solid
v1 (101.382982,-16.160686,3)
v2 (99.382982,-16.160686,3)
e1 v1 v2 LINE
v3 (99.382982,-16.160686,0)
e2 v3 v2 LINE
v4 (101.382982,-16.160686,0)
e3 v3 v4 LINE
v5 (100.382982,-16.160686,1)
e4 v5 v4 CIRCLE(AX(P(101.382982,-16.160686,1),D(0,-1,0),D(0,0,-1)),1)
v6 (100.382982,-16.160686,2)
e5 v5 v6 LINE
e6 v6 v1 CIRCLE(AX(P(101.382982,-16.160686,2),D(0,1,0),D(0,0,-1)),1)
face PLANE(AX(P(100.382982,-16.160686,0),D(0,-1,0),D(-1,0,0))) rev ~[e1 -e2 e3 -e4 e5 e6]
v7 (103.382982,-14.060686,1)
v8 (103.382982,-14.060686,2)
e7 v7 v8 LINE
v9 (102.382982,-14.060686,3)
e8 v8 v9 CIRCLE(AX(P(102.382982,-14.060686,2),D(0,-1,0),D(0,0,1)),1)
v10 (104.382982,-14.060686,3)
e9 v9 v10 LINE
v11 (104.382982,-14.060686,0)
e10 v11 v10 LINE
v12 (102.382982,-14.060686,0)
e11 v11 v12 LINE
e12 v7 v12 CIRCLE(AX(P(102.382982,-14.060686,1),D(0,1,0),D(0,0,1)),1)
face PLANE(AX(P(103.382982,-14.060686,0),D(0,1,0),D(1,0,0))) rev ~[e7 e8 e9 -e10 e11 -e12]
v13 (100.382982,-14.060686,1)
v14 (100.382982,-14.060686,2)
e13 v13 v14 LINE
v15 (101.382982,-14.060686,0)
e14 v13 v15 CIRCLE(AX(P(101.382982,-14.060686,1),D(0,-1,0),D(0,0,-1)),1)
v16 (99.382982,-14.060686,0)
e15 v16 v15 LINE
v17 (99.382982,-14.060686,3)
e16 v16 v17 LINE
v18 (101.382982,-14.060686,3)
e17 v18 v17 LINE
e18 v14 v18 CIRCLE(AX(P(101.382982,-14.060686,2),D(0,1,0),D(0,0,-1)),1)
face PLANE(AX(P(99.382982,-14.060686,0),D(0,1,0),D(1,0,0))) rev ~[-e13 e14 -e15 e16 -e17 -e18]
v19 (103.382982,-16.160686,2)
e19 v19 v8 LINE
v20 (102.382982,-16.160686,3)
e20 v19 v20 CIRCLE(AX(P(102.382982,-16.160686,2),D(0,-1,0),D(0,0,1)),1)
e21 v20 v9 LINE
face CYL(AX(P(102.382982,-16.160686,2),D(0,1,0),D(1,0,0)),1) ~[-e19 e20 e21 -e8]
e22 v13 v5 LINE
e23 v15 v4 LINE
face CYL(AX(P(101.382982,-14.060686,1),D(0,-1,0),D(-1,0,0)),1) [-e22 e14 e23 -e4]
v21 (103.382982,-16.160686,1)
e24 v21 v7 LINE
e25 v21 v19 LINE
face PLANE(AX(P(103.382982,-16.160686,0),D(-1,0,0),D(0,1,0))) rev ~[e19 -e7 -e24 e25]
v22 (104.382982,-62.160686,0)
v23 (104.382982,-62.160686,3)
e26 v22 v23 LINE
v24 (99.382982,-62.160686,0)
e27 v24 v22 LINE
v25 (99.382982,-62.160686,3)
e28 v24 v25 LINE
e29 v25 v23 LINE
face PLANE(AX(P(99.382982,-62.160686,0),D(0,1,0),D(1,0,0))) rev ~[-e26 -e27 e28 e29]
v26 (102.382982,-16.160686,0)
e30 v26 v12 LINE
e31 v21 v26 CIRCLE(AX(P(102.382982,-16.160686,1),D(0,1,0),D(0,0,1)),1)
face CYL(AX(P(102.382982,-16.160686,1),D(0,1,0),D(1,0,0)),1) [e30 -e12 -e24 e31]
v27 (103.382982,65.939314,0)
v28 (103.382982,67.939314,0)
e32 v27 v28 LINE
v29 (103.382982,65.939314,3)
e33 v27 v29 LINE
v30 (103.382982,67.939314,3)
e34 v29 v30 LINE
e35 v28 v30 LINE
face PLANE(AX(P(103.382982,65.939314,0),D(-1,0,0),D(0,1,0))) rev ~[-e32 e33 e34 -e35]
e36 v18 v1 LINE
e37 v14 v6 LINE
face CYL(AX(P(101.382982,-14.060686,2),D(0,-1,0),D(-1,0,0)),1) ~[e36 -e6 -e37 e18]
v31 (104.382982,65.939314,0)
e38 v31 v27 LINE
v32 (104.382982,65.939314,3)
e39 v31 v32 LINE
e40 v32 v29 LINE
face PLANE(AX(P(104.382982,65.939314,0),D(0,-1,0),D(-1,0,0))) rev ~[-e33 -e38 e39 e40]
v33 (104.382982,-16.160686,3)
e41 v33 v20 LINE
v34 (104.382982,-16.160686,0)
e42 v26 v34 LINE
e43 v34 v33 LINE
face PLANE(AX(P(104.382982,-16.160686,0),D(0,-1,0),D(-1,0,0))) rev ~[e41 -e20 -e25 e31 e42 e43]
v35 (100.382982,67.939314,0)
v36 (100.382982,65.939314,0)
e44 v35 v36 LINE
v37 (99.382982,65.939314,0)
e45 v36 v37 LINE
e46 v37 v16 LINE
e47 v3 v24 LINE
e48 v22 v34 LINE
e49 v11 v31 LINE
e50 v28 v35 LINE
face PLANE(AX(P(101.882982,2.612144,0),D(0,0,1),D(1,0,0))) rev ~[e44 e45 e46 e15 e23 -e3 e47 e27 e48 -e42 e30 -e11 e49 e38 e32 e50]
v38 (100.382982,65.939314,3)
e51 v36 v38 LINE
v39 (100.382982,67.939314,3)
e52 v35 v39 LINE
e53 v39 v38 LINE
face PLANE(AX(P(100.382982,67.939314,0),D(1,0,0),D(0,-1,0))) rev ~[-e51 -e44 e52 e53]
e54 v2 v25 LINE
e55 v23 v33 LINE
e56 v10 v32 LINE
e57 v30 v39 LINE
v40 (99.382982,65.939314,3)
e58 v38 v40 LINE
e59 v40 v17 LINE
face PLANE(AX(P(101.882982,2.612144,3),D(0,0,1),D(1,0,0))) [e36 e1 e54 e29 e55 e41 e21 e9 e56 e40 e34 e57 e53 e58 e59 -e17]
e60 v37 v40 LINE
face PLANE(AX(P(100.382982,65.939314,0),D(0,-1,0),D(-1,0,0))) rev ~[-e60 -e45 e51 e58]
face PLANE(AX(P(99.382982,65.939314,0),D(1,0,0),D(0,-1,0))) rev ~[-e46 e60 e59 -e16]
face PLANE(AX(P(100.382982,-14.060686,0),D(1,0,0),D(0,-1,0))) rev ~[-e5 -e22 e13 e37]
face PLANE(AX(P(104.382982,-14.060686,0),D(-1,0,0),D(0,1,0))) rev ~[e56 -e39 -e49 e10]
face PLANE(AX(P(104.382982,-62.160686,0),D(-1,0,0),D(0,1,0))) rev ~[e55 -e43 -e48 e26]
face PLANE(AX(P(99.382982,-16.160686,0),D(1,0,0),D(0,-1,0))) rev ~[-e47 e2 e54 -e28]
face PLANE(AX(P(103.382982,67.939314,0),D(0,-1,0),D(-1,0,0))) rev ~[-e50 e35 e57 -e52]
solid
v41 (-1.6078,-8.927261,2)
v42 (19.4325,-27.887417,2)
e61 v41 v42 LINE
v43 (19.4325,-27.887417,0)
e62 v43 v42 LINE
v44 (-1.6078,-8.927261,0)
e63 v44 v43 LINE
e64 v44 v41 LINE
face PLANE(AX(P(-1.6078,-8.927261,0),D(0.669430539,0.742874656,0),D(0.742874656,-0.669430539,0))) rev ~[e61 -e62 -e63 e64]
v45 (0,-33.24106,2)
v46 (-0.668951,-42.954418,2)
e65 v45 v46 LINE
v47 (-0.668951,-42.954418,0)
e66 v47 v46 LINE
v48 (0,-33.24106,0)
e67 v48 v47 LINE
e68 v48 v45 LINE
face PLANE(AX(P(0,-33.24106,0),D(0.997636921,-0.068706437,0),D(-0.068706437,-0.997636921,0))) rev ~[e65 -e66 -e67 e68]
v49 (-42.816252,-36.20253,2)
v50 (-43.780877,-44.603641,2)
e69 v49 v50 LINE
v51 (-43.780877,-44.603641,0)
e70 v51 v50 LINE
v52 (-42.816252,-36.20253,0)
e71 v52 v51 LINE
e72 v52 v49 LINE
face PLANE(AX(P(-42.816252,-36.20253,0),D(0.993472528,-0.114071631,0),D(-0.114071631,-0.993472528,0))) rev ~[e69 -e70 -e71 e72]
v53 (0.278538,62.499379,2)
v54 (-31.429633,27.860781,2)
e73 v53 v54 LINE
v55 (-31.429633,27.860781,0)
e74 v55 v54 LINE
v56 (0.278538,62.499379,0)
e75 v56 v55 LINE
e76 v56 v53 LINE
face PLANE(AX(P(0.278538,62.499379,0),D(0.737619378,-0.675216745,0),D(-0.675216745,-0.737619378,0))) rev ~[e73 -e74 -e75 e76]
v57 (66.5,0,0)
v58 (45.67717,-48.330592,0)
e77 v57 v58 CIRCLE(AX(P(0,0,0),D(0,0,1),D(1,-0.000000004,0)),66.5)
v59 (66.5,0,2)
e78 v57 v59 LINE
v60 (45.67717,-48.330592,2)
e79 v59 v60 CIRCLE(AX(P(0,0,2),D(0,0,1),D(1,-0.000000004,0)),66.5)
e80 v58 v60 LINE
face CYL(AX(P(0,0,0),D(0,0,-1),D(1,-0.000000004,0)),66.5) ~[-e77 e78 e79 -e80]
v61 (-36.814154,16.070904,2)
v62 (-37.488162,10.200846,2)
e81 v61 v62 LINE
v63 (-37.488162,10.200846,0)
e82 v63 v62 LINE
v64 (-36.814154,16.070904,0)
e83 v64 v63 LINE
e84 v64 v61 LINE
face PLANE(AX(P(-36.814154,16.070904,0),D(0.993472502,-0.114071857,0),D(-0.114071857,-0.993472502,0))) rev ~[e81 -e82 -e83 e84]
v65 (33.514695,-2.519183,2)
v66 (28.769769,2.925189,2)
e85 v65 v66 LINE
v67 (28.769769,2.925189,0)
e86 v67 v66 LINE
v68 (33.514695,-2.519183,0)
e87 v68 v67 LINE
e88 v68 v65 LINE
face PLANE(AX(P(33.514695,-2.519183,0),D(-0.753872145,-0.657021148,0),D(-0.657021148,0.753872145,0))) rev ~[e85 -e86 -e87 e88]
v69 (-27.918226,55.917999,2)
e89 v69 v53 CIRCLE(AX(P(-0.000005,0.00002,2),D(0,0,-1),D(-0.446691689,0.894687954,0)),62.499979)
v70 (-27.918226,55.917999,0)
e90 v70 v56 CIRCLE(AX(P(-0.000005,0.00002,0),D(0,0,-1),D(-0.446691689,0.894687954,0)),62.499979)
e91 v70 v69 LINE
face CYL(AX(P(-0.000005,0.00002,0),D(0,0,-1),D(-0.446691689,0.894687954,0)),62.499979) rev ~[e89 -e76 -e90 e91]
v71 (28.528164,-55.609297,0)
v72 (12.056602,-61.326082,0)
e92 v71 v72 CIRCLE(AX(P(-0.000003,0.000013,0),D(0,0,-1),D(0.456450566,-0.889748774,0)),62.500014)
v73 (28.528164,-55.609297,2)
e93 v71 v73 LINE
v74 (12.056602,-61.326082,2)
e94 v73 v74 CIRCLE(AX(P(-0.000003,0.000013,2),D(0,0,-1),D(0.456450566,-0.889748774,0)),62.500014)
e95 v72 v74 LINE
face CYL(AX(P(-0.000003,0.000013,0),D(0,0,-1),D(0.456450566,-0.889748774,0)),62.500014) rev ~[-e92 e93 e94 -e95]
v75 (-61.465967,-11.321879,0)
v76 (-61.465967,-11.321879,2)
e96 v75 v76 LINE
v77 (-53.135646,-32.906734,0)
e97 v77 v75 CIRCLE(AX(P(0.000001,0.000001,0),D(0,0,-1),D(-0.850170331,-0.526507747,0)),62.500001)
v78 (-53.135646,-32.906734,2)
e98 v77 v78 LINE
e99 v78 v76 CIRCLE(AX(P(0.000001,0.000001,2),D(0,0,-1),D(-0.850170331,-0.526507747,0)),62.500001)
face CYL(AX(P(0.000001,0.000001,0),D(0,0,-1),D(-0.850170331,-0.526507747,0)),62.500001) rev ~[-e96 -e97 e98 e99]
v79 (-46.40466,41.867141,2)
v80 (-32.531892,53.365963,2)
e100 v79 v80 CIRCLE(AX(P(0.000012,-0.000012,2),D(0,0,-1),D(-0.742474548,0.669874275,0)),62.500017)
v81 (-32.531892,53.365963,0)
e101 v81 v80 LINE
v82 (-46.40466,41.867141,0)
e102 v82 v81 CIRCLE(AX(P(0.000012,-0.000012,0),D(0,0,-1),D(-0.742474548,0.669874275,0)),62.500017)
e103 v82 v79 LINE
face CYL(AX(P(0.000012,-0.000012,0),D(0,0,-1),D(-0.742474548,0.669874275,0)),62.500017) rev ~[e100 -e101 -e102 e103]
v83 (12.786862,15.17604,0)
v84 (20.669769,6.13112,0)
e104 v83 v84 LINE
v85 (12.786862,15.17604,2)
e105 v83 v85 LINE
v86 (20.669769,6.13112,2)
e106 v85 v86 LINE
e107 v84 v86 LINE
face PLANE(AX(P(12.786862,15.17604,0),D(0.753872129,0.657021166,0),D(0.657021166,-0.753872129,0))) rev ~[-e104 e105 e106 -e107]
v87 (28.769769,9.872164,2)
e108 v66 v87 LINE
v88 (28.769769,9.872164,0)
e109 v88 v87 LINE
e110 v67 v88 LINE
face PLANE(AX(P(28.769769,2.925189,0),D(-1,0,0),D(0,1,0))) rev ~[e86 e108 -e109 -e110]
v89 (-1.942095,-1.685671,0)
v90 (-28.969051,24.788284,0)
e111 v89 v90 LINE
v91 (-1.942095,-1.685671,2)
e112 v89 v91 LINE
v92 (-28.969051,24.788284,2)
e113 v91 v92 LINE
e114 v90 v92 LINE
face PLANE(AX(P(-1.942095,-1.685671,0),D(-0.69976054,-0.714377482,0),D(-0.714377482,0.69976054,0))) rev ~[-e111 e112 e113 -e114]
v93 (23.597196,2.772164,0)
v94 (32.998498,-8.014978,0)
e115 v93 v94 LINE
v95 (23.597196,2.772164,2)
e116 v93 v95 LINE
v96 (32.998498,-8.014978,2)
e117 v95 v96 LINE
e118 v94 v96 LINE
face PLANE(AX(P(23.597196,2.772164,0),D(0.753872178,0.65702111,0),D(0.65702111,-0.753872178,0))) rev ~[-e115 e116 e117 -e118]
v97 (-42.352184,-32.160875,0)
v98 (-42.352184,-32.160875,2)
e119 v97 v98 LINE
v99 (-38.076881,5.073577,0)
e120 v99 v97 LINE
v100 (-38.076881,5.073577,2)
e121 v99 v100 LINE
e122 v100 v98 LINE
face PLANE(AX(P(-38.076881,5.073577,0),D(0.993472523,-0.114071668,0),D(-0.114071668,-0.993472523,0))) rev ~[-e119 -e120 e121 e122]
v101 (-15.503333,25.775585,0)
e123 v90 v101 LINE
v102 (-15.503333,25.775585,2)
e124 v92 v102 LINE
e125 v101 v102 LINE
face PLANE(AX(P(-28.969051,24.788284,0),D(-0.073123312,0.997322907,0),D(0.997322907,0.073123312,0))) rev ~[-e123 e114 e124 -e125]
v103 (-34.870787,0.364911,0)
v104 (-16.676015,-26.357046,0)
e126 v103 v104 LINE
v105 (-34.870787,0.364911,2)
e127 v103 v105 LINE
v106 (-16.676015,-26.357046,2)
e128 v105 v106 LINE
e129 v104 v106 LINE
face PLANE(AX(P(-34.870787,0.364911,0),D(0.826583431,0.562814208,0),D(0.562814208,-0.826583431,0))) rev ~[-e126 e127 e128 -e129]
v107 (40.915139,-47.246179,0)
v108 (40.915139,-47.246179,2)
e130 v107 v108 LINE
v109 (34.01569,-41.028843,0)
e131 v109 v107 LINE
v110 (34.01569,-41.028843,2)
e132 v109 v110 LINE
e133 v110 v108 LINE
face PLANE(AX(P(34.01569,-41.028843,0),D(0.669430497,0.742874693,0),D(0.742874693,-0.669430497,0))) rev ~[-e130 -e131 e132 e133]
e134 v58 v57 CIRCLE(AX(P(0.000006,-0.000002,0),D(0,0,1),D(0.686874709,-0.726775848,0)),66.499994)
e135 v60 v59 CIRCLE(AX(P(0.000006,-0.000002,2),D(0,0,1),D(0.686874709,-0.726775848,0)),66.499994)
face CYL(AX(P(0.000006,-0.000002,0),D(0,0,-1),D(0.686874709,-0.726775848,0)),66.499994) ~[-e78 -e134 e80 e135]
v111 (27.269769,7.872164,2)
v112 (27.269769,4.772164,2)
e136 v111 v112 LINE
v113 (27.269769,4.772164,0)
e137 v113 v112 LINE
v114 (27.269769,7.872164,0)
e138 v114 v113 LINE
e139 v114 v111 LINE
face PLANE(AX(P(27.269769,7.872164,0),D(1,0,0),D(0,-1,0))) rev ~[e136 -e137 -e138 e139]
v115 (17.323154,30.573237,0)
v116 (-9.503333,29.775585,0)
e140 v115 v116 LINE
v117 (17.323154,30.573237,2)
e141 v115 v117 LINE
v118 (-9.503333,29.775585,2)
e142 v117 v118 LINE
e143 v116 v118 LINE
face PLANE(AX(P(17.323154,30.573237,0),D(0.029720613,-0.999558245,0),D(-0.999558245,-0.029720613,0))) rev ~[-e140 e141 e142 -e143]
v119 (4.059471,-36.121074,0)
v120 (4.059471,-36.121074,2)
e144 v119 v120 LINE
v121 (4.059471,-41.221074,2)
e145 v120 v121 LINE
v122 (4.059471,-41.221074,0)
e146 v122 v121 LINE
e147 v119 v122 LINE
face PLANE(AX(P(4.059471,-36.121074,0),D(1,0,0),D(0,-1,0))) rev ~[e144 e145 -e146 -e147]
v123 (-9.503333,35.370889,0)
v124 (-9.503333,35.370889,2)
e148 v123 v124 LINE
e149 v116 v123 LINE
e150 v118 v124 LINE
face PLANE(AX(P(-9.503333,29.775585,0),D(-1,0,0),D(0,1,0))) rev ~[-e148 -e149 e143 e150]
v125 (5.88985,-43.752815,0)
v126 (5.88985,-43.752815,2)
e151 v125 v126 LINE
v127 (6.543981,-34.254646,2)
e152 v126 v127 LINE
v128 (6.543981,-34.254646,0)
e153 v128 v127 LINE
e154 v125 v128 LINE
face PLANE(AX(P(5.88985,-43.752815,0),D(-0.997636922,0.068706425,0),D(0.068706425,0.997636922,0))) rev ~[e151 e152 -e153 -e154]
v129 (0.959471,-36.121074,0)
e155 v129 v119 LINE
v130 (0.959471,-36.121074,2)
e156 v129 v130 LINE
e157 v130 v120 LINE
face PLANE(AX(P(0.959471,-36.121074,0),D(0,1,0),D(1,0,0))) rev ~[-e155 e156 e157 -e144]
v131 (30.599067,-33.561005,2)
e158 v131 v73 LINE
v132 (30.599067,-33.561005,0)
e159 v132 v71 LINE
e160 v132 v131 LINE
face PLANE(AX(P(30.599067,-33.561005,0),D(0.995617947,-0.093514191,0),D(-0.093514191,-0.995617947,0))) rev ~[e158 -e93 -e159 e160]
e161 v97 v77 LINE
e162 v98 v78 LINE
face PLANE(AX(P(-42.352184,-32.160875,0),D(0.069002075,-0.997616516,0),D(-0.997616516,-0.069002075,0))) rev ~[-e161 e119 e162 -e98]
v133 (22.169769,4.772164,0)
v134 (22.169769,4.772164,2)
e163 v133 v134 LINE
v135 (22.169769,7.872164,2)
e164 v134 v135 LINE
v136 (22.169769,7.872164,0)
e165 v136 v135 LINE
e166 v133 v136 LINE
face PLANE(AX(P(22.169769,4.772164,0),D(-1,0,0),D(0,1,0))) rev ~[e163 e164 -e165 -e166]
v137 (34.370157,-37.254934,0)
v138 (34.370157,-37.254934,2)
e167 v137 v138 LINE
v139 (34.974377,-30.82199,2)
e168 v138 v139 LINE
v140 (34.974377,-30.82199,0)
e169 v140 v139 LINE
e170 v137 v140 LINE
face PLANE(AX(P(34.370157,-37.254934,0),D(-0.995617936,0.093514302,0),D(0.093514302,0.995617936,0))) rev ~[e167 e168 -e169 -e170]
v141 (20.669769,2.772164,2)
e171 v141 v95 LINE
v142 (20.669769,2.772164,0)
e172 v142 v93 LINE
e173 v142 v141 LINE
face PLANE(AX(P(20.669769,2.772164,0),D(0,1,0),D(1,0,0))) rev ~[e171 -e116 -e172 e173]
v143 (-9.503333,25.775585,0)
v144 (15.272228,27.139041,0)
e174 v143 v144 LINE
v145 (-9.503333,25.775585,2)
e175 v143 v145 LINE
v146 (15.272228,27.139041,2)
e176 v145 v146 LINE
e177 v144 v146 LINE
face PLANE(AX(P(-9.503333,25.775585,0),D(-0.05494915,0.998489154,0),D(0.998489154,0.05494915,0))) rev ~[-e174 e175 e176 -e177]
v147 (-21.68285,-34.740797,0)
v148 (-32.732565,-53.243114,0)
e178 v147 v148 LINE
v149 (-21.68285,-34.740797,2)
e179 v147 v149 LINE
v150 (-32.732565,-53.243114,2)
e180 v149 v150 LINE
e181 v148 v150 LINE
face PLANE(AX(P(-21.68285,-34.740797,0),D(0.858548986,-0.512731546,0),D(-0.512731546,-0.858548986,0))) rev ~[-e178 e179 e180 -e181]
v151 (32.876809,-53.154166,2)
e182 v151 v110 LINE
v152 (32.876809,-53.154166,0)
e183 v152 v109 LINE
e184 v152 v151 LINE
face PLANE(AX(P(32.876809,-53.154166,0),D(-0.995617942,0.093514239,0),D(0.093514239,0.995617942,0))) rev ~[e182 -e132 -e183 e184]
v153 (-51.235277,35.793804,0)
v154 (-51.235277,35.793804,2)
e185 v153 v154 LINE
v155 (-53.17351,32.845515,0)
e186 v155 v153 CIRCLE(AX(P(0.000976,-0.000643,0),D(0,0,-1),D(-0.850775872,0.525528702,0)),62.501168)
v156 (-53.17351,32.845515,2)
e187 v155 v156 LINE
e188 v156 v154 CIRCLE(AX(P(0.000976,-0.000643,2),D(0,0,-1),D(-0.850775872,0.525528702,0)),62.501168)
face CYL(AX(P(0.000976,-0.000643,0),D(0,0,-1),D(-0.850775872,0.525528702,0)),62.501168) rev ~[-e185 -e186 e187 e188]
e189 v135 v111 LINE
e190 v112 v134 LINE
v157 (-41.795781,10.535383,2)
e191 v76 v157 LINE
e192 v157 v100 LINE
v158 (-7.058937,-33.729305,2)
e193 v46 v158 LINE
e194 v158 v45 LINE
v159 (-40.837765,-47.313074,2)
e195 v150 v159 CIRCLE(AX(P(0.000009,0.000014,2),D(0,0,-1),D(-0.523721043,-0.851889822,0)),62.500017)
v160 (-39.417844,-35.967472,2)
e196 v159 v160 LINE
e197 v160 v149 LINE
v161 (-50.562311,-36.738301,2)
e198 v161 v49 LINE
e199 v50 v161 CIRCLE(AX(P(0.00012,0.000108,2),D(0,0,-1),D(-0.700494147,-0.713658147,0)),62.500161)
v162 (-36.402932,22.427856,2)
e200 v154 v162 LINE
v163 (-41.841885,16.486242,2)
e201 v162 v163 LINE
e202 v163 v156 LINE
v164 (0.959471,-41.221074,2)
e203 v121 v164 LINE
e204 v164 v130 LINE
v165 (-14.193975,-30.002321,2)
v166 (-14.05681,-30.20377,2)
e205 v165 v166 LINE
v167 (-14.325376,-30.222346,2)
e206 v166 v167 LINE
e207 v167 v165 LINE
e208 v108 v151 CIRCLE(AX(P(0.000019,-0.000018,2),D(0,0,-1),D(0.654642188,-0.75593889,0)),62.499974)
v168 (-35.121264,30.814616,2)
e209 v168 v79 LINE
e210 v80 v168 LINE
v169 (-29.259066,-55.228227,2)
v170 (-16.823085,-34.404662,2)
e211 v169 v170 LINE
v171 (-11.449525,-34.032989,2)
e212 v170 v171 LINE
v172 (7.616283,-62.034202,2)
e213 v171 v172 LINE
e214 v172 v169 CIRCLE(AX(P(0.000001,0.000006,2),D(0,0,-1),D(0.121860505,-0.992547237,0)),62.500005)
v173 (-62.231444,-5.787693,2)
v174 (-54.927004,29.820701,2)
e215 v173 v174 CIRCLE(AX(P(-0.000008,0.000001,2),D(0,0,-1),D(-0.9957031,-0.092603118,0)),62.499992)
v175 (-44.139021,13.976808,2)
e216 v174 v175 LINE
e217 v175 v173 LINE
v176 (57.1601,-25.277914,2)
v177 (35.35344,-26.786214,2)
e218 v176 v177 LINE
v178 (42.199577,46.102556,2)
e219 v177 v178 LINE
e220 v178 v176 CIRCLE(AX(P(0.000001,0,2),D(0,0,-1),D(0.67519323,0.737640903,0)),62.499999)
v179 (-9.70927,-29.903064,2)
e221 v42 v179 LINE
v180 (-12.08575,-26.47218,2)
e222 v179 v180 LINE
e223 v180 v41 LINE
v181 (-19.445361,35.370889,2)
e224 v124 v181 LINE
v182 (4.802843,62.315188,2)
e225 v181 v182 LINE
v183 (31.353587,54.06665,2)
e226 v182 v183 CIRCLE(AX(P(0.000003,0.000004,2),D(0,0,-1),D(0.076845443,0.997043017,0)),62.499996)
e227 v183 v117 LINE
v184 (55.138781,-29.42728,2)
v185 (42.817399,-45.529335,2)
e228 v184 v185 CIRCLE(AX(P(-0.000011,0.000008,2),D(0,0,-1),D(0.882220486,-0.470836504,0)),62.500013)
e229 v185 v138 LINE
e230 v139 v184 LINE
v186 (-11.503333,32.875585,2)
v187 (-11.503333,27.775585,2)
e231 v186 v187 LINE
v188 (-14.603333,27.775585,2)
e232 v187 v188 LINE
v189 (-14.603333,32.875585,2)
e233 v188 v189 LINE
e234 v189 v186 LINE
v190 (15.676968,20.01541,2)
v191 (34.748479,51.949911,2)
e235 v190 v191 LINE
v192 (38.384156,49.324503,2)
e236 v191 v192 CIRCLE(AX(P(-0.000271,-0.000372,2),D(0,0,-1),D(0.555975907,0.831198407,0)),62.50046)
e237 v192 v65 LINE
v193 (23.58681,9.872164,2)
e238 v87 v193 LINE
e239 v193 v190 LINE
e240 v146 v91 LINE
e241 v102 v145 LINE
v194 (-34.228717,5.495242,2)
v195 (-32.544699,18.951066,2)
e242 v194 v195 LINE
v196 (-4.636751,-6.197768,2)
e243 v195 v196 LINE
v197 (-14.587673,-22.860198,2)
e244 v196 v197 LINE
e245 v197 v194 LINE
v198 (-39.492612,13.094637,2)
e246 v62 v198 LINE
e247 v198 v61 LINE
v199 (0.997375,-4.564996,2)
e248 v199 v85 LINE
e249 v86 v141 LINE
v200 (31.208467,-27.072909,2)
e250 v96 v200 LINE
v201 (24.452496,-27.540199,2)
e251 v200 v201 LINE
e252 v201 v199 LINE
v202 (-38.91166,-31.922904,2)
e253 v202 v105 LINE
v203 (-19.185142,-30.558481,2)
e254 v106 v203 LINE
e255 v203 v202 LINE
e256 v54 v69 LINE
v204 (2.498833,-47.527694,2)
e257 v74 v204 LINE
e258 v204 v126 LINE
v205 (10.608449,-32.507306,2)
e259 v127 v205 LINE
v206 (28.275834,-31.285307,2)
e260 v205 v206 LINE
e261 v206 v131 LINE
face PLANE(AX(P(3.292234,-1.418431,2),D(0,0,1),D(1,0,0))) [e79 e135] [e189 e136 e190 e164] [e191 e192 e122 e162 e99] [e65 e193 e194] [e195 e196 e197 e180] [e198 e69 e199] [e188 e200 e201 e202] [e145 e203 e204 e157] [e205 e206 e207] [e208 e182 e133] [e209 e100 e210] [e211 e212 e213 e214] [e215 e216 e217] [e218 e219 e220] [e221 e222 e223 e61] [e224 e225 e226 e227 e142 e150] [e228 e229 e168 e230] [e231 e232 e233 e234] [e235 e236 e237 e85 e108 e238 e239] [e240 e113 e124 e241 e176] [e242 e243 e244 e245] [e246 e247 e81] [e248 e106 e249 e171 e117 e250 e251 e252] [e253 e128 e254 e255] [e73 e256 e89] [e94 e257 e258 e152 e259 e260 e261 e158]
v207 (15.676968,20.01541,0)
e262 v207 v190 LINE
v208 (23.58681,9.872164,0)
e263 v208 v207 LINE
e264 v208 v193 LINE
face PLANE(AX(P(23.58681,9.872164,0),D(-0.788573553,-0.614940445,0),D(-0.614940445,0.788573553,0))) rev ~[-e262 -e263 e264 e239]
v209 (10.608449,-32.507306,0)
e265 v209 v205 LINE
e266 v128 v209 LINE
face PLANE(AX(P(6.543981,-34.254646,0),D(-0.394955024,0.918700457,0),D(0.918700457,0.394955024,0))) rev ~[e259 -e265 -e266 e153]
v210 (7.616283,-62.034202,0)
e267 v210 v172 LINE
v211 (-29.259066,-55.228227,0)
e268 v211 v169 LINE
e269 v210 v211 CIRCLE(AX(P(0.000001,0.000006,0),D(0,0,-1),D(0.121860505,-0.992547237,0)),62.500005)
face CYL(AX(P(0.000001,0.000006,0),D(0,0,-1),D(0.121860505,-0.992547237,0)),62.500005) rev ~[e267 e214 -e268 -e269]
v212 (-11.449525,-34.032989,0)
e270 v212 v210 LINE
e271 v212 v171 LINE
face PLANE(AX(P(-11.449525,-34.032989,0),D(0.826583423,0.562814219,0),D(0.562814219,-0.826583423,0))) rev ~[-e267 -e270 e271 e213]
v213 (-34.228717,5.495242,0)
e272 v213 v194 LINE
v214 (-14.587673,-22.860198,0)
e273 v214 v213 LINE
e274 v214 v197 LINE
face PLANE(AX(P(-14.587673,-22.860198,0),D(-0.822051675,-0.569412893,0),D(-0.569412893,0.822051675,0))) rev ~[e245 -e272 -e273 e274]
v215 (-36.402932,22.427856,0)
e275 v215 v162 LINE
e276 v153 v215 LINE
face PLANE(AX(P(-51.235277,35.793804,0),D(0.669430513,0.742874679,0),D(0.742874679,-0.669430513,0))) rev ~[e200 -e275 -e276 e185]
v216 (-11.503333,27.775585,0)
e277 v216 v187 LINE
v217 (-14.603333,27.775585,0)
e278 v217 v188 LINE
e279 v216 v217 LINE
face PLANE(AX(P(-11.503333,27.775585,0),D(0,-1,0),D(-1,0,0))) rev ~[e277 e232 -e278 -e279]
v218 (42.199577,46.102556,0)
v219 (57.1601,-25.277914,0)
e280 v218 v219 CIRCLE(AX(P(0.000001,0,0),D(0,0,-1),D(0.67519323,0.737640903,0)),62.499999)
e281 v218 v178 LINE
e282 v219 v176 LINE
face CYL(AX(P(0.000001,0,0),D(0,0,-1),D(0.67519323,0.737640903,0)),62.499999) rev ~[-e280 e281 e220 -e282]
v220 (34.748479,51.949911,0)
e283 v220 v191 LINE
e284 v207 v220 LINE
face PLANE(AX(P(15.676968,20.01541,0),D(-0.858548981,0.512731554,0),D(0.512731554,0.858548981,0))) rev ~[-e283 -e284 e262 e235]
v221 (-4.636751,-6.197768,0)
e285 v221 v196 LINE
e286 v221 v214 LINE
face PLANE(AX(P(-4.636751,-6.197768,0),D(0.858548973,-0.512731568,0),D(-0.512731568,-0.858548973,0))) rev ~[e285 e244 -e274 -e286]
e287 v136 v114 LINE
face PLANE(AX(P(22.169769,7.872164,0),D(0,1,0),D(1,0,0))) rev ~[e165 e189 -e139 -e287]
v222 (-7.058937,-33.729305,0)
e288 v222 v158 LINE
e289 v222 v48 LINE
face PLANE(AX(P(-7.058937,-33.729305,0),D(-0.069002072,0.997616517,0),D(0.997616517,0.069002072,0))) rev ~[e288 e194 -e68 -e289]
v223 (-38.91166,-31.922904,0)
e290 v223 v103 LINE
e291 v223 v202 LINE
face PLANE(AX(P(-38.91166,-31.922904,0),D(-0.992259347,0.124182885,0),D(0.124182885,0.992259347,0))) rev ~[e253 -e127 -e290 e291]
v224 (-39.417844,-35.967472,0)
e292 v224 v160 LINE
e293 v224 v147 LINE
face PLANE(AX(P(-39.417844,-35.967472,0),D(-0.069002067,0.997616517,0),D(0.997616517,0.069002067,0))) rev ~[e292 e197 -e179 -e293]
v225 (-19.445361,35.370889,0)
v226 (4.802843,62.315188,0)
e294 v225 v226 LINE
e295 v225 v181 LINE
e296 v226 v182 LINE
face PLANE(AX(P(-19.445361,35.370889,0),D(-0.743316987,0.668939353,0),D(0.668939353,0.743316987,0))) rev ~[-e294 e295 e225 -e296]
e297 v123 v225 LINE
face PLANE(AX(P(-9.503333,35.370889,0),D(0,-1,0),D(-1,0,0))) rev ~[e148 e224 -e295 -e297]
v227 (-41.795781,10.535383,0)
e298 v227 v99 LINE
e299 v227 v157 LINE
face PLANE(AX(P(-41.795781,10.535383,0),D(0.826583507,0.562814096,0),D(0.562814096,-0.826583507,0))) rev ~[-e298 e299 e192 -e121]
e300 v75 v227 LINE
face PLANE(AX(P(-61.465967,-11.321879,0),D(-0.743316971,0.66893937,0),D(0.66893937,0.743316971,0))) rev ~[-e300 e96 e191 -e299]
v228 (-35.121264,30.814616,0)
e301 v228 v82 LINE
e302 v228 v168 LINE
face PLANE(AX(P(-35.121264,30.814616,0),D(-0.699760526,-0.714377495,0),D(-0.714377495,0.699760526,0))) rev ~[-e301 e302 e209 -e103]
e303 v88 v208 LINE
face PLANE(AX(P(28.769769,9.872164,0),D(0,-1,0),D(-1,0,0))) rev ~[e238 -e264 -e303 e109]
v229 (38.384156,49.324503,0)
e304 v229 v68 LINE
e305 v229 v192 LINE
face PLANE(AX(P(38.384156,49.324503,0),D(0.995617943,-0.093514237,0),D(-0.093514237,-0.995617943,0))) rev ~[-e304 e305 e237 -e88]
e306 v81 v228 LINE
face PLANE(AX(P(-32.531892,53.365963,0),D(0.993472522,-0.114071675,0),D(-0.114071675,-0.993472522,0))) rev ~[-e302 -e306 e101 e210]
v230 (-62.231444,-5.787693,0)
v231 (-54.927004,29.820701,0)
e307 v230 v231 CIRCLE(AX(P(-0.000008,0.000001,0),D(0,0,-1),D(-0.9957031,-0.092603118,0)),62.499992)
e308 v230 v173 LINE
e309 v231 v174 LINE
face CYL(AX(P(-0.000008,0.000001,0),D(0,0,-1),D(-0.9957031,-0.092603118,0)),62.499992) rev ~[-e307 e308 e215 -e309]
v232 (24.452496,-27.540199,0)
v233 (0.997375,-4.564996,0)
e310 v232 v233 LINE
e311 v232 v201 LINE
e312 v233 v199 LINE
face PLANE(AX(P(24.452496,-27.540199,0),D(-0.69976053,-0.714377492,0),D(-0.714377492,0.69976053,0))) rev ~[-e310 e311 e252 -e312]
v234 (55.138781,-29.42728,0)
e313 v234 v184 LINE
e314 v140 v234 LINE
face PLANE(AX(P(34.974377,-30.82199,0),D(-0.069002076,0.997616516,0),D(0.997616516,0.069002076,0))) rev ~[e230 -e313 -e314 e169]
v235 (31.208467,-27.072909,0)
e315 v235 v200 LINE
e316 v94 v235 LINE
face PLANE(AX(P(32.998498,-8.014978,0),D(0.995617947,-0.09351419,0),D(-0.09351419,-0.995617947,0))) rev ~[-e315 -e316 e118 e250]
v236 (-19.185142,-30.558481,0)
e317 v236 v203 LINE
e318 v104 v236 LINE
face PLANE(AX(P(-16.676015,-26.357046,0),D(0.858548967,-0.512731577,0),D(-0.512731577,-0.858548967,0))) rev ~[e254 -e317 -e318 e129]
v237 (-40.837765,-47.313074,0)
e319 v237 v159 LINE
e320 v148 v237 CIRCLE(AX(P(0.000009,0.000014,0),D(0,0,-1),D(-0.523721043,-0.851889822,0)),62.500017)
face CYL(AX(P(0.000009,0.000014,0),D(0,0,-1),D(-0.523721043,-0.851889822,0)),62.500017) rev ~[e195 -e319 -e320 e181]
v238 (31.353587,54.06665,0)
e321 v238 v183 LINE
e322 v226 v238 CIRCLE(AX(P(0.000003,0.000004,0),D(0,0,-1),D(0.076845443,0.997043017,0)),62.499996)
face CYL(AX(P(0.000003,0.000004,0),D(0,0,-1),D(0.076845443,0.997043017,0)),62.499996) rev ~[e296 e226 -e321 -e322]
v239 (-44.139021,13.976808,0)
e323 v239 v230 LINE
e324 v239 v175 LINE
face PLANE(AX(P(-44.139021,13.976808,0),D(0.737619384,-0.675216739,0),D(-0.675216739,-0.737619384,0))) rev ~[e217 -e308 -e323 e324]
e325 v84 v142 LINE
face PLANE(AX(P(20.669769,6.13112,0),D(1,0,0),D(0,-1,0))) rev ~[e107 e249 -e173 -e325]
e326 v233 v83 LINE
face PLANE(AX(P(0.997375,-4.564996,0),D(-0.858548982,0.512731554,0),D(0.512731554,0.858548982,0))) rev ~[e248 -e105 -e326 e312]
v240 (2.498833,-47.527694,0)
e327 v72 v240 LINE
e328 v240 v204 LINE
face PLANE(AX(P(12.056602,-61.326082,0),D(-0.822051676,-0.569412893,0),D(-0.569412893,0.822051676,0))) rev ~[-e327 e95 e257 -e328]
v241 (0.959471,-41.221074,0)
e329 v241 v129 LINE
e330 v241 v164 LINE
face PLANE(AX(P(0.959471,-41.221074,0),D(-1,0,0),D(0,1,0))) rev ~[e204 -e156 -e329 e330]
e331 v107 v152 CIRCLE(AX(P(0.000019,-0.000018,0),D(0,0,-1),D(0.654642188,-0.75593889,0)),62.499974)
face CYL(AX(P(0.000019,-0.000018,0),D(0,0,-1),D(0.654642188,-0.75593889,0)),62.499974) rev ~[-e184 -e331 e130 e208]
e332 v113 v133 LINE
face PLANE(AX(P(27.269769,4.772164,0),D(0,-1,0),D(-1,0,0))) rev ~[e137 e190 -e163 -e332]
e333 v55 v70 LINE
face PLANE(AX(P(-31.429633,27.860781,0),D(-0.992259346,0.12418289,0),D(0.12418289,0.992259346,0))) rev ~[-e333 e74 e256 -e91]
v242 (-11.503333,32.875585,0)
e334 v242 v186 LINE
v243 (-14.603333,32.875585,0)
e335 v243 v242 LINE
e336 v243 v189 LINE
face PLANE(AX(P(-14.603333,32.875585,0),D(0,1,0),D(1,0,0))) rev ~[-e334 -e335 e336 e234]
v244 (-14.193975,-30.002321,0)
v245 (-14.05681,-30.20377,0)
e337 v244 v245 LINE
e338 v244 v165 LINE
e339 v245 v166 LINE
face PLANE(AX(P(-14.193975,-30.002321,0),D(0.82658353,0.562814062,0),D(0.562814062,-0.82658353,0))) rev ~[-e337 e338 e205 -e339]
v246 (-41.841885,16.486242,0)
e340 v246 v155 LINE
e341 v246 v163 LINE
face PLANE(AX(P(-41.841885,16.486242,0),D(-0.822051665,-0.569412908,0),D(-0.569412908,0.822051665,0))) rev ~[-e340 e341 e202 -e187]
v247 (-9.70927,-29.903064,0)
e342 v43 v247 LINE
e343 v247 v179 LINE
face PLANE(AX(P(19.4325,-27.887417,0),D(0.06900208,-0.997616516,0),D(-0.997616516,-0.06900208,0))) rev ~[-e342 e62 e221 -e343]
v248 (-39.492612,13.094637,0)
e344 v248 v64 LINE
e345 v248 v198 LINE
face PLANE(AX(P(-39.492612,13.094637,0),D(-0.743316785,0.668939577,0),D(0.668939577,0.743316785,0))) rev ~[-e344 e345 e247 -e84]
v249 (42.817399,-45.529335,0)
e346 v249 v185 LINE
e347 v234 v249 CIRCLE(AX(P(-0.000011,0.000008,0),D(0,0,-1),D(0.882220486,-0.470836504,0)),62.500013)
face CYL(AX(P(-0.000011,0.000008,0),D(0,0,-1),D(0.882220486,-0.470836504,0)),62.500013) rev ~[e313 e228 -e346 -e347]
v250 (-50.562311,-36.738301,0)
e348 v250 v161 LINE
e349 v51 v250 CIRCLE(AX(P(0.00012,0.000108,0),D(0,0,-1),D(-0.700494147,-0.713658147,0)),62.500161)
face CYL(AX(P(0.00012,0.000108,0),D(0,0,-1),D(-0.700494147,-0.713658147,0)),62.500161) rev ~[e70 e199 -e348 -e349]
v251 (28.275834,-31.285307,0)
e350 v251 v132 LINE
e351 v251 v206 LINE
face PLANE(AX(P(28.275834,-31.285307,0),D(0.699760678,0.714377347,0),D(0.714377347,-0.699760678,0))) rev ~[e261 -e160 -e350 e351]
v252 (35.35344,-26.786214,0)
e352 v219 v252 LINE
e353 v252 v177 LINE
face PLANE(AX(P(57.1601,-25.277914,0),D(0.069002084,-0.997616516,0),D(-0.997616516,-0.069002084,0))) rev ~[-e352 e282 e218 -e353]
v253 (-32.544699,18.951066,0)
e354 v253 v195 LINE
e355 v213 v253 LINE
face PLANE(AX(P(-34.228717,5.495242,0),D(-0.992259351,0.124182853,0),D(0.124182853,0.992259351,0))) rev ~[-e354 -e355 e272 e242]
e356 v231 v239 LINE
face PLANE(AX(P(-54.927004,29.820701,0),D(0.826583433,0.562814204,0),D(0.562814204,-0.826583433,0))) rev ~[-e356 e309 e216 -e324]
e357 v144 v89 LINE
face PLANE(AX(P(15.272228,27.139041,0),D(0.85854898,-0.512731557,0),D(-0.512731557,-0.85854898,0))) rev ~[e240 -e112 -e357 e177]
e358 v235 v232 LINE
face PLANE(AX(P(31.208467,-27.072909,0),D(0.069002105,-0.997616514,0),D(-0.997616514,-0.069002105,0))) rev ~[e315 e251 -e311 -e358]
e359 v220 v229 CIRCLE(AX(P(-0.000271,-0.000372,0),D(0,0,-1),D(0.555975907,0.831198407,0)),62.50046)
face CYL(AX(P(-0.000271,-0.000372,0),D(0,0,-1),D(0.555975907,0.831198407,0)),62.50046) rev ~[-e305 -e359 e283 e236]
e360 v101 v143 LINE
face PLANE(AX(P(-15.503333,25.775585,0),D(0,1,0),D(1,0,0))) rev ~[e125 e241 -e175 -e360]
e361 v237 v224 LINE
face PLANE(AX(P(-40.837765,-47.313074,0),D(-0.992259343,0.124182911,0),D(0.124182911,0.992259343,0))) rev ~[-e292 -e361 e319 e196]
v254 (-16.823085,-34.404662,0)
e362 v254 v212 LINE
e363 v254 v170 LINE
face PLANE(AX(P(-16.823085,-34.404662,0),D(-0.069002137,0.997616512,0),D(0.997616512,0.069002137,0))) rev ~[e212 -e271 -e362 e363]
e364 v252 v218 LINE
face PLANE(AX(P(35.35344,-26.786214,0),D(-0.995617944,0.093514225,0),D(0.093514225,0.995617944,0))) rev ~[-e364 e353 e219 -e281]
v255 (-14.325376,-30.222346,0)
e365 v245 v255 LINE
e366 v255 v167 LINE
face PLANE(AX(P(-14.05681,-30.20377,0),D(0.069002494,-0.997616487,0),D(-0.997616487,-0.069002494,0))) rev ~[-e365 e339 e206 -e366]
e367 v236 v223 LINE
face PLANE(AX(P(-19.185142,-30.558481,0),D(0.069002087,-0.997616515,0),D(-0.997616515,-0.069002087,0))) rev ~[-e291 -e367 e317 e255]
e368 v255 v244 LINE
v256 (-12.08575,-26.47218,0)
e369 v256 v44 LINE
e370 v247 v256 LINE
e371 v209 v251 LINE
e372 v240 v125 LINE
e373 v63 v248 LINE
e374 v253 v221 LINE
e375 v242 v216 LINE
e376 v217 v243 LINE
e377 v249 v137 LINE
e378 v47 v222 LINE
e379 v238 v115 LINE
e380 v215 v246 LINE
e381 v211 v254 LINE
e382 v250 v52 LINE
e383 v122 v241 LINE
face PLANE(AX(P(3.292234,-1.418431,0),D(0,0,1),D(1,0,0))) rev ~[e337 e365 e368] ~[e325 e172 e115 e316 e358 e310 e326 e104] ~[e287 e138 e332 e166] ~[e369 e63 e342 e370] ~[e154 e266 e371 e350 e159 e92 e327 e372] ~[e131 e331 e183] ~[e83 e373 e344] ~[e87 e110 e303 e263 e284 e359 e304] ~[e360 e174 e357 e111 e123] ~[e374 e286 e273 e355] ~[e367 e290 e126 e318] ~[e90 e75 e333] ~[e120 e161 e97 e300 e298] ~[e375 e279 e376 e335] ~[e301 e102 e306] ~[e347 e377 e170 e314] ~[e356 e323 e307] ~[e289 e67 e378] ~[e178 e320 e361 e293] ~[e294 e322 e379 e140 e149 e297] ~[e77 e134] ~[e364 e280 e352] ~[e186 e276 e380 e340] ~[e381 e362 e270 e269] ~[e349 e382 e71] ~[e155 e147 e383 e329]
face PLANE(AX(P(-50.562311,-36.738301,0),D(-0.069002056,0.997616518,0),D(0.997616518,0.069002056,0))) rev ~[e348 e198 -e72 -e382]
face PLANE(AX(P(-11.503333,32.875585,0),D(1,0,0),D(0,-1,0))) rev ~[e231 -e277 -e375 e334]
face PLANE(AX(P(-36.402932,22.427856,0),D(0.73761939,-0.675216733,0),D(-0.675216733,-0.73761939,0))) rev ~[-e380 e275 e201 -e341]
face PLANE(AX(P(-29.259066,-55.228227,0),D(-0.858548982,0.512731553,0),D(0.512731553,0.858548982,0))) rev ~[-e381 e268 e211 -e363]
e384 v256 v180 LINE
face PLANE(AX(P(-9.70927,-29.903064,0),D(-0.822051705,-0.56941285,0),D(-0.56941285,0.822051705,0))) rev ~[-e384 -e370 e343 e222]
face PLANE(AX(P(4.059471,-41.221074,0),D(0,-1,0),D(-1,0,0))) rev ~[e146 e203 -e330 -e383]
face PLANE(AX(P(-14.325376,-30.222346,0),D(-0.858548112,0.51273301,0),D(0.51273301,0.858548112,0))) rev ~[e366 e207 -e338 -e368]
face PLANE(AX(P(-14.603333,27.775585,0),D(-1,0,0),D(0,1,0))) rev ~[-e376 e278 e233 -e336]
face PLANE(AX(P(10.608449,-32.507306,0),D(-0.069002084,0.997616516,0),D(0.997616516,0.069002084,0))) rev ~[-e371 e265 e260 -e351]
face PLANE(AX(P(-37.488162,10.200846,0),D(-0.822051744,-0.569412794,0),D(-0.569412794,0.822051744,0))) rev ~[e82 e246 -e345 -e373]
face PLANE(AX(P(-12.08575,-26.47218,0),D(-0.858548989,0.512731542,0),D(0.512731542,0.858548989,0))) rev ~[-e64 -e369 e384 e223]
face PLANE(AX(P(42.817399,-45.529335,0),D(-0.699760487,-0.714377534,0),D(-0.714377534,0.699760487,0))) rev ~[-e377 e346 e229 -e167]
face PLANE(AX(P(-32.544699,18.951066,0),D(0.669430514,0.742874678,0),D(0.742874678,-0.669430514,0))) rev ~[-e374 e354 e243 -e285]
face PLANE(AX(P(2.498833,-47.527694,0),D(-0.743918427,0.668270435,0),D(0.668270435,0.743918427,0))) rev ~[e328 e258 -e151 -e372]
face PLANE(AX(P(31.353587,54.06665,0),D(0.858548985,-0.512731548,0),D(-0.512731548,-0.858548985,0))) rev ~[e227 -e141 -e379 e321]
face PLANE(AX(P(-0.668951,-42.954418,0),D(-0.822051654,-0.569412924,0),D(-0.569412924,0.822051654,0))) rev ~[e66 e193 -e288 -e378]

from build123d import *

# Parameters (mm, degrees)
F1_DEPTH = 2
F3_DEPTH = 3
F4_R     = 1


with BuildPart() as f1:
    # F0 (on Top) → F1 (new body)
    with BuildSketch(Plane.XY):
        with BuildLine():
            ThreePointArc((45.67717, -48.330592), (61.072833, -26.312718), (66.5, 0))
            ThreePointArc((66.5, 0), (-61.072833, 26.312718), (45.67717, -48.330592))
        make_face()
        with BuildLine():
            ThreePointArc((-43.780877, -44.603641), (-47.335242, -40.812067), (-50.562311, -36.738301))
            Line((-50.562311, -36.738301), (-42.816252, -36.20253))
            Line((-42.816252, -36.20253), (-43.780877, -44.603641))
        make_face(mode=Mode.SUBTRACT)
        with BuildLine():
            Line((-21.68285, -34.740797), (-32.732565, -53.243114))
            ThreePointArc((-32.732565, -53.243114), (-36.904467, -50.441157), (-40.837765, -47.313074))
            Line((-40.837765, -47.313074), (-39.417844, -35.967472))
            Line((-39.417844, -35.967472), (-21.68285, -34.740797))
        make_face(mode=Mode.SUBTRACT)
        with BuildLine():
            ThreePointArc((7.616283, -62.034202), (-11.343846, -61.461916), (-29.259066, -55.228227))
            Line((-29.259066, -55.228227), (-16.823085, -34.404662))
            Line((-16.823085, -34.404662), (-11.449525, -34.032989))
            Line((-11.449525, -34.032989), (7.616283, -62.034202))
        make_face(mode=Mode.SUBTRACT)
        Polygon((-0.668951, -42.954418), (-7.058937, -33.729305), (0, -33.24106), align=None, mode=Mode.SUBTRACT)
        with BuildLine():
            Line((-42.352184, -32.160875), (-53.135646, -32.906734))
            ThreePointArc((-53.135646, -32.906734), (-58.308309, -22.503136), (-61.465967, -11.321879))
            Line((-61.465967, -11.321879), (-41.795781, 10.535383))
            Line((-41.795781, 10.535383), (-38.076881, 5.073577))
            Line((-38.076881, 5.073577), (-42.352184, -32.160875))
        make_face(mode=Mode.SUBTRACT)
        Polygon((-14.05681, -30.20377), (-14.325376, -30.222346), (-14.193975, -30.002321), align=None, mode=Mode.SUBTRACT)
        Polygon((-19.185142, -30.558481), (-38.91166, -31.922904), (-34.870787, 0.364911), (-16.676015, -26.357046), align=None, mode=Mode.SUBTRACT)
        Polygon((-32.544699, 18.951066), (-4.636751, -6.197768), (-14.587673, -22.860198), (-34.228717, 5.495242), align=None, mode=Mode.SUBTRACT)
        with BuildLine():
            ThreePointArc((28.528164, -55.609297), (20.492711, -59.044888), (12.056602, -61.326082))
            Line((12.056602, -61.326082), (2.498833, -47.527694))
            Line((2.498833, -47.527694), (5.88985, -43.752815))
            Line((5.88985, -43.752815), (6.543981, -34.254646))
            Line((6.543981, -34.254646), (10.608449, -32.507306))
            Line((10.608449, -32.507306), (28.275834, -31.285307))
            Line((28.275834, -31.285307), (30.599067, -33.561005))
            Line((30.599067, -33.561005), (28.528164, -55.609297))
        make_face(mode=Mode.SUBTRACT)
        Polygon((4.059471, -41.221074), (0.959471, -41.221074), (0.959471, -37.121074), (0.959471, -36.121074), (4.059471, -36.121074), (4.059471, -37.121074), align=None, mode=Mode.SUBTRACT)
        with BuildLine():
            ThreePointArc((40.915139, -47.246179), (37.014038, -50.360808), (32.876809, -53.154166))
            Line((32.876809, -53.154166), (34.01569, -41.028843))
            Line((34.01569, -41.028843), (40.915139, -47.246179))
        make_face(mode=Mode.SUBTRACT)
        with BuildLine():
            ThreePointArc((55.138781, -29.42728), (49.635394, -37.98128), (42.817399, -45.529335))
            Line((42.817399, -45.529335), (34.370157, -37.254934))
            Line((34.370157, -37.254934), (34.974377, -30.82199))
            Line((34.974377, -30.82199), (55.138781, -29.42728))
        make_face(mode=Mode.SUBTRACT)
        Polygon((-1.6078, -8.927261), (19.4325, -27.887417), (-9.70927, -29.903064), (-12.08575, -26.47218), align=None, mode=Mode.SUBTRACT)
        Polygon((32.998498, -8.014978), (31.208467, -27.072909), (24.452496, -27.540199), (0.997375, -4.564996), (12.786862, 15.17604), (20.669769, 6.13112), (20.669769, 2.772164), (23.597196, 2.772164), align=None, mode=Mode.SUBTRACT)
        with BuildLine():
            ThreePointArc((-62.231444, -5.787693), (-61.225117, 12.559263), (-54.927004, 29.820701))
            Line((-54.927004, 29.820701), (-44.139021, 13.976808))
            Line((-44.139021, 13.976808), (-62.231444, -5.787693))
        make_face(mode=Mode.SUBTRACT)
        Polygon((-37.488162, 10.200846), (-39.492612, 13.094637), (-36.814154, 16.070904), align=None, mode=Mode.SUBTRACT)
        with BuildLine():
            Line((-41.841885, 16.486242), (-53.17351, 32.845515))
            ThreePointArc((-53.17351, 32.845515), (-52.225202, 34.33334), (-51.235277, 35.793804))
            Line((-51.235277, 35.793804), (-36.402932, 22.427856))
            Line((-36.402932, 22.427856), (-41.841885, 16.486242))
        make_face(mode=Mode.SUBTRACT)
        Polygon((15.272228, 27.139041), (-1.942095, -1.685671), (-28.969051, 24.788284), (-15.503333, 25.775585), (-9.503333, 25.775585), align=None, mode=Mode.SUBTRACT)
        Polygon((-11.503333, 27.775585), (-14.603333, 27.775585), (-14.603333, 31.875585), (-14.603333, 32.875585), (-11.503333, 32.875585), (-11.503333, 31.875585), align=None, mode=Mode.SUBTRACT)
        with BuildLine():
            ThreePointArc((-46.40466, 41.867141), (-39.884841, 48.119117), (-32.531892, 53.365963))
            Line((-32.531892, 53.365963), (-35.121264, 30.814616))
            Line((-35.121264, 30.814616), (-46.40466, 41.867141))
        make_face(mode=Mode.SUBTRACT)
        with BuildLine():
            Line((-31.429633, 27.860781), (-27.918226, 55.917999))
            ThreePointArc((-27.918226, 55.917999), (-14.206221, 60.864056), (0.278538, 62.499379))
            Line((0.278538, 62.499379), (-31.429633, 27.860781))
        make_face(mode=Mode.SUBTRACT)
        Polygon((22.169769, 7.872164), (22.669769, 7.872164), (26.769769, 7.872164), (27.269769, 7.872164), (27.269769, 4.772164), (26.769769, 4.772164), (22.669769, 4.772164), (22.169769, 4.772164), align=None, mode=Mode.SUBTRACT)
        with BuildLine():
            ThreePointArc((34.748479, 51.949911), (36.589872, 50.669826), (38.384156, 49.324503))
            Line((38.384156, 49.324503), (33.514695, -2.519183))
            Line((33.514695, -2.519183), (28.769769, 2.925189))
            Line((28.769769, 2.925189), (28.769769, 9.872164))
            Line((28.769769, 9.872164), (23.58681, 9.872164))
            Line((23.58681, 9.872164), (15.676968, 20.01541))
            Line((15.676968, 20.01541), (34.748479, 51.949911))
        make_face(mode=Mode.SUBTRACT)
        with BuildLine():
            ThreePointArc((42.199577, 46.102556), (61.170902, 12.820715), (57.1601, -25.277914))
            Line((57.1601, -25.277914), (35.35344, -26.786214))
            Line((35.35344, -26.786214), (42.199577, 46.102556))
        make_face(mode=Mode.SUBTRACT)
        with BuildLine():
            ThreePointArc((4.802843, 62.315188), (18.542692, 59.686), (31.353587, 54.06665))
            Line((31.353587, 54.06665), (17.323154, 30.573237))
            Line((17.323154, 30.573237), (-9.503333, 29.775585))
            Line((-9.503333, 29.775585), (-9.503333, 35.370889))
            Line((-9.503333, 35.370889), (-19.445361, 35.370889))
            Line((-19.445361, 35.370889), (4.802843, 62.315188))
        make_face(mode=Mode.SUBTRACT)
    extrude(amount=F1_DEPTH)


with BuildPart() as f3:
    # F2 (on Top) → F3 (new body)
    with BuildSketch(Plane.XY):
        Polygon((103.382982, 67.939314), (100.382982, 67.939314), (100.382982, 65.939314), (99.382982, 65.939314), (99.382982, -14.060686), (100.382982, -14.060686), (100.382982, -16.160686), (99.382982, -16.160686), (99.382982, -62.160686), (100.382982, -62.160686), (103.382982, -62.160686), (104.382982, -62.160686), (104.382982, -16.160686), (103.382982, -16.160686), (103.382982, -14.060686), (104.382982, -14.060686), (104.382982, 65.939314), (103.382982, 65.939314), align=None)
    extrude(amount=F3_DEPTH)

    # F4
    f4_edges = [f3.edges().sort_by_distance(p)[0] for p in [
        (103.382982, -15.110686, 3),
        (100.382982, -15.110686, 3),
        (103.382982, -15.110686, 0),
        (100.382982, -15.110686, 0),
    ]]
    fillet(f4_edges, radius=F4_R)


solid = Compound([f1.part, f3.part])
